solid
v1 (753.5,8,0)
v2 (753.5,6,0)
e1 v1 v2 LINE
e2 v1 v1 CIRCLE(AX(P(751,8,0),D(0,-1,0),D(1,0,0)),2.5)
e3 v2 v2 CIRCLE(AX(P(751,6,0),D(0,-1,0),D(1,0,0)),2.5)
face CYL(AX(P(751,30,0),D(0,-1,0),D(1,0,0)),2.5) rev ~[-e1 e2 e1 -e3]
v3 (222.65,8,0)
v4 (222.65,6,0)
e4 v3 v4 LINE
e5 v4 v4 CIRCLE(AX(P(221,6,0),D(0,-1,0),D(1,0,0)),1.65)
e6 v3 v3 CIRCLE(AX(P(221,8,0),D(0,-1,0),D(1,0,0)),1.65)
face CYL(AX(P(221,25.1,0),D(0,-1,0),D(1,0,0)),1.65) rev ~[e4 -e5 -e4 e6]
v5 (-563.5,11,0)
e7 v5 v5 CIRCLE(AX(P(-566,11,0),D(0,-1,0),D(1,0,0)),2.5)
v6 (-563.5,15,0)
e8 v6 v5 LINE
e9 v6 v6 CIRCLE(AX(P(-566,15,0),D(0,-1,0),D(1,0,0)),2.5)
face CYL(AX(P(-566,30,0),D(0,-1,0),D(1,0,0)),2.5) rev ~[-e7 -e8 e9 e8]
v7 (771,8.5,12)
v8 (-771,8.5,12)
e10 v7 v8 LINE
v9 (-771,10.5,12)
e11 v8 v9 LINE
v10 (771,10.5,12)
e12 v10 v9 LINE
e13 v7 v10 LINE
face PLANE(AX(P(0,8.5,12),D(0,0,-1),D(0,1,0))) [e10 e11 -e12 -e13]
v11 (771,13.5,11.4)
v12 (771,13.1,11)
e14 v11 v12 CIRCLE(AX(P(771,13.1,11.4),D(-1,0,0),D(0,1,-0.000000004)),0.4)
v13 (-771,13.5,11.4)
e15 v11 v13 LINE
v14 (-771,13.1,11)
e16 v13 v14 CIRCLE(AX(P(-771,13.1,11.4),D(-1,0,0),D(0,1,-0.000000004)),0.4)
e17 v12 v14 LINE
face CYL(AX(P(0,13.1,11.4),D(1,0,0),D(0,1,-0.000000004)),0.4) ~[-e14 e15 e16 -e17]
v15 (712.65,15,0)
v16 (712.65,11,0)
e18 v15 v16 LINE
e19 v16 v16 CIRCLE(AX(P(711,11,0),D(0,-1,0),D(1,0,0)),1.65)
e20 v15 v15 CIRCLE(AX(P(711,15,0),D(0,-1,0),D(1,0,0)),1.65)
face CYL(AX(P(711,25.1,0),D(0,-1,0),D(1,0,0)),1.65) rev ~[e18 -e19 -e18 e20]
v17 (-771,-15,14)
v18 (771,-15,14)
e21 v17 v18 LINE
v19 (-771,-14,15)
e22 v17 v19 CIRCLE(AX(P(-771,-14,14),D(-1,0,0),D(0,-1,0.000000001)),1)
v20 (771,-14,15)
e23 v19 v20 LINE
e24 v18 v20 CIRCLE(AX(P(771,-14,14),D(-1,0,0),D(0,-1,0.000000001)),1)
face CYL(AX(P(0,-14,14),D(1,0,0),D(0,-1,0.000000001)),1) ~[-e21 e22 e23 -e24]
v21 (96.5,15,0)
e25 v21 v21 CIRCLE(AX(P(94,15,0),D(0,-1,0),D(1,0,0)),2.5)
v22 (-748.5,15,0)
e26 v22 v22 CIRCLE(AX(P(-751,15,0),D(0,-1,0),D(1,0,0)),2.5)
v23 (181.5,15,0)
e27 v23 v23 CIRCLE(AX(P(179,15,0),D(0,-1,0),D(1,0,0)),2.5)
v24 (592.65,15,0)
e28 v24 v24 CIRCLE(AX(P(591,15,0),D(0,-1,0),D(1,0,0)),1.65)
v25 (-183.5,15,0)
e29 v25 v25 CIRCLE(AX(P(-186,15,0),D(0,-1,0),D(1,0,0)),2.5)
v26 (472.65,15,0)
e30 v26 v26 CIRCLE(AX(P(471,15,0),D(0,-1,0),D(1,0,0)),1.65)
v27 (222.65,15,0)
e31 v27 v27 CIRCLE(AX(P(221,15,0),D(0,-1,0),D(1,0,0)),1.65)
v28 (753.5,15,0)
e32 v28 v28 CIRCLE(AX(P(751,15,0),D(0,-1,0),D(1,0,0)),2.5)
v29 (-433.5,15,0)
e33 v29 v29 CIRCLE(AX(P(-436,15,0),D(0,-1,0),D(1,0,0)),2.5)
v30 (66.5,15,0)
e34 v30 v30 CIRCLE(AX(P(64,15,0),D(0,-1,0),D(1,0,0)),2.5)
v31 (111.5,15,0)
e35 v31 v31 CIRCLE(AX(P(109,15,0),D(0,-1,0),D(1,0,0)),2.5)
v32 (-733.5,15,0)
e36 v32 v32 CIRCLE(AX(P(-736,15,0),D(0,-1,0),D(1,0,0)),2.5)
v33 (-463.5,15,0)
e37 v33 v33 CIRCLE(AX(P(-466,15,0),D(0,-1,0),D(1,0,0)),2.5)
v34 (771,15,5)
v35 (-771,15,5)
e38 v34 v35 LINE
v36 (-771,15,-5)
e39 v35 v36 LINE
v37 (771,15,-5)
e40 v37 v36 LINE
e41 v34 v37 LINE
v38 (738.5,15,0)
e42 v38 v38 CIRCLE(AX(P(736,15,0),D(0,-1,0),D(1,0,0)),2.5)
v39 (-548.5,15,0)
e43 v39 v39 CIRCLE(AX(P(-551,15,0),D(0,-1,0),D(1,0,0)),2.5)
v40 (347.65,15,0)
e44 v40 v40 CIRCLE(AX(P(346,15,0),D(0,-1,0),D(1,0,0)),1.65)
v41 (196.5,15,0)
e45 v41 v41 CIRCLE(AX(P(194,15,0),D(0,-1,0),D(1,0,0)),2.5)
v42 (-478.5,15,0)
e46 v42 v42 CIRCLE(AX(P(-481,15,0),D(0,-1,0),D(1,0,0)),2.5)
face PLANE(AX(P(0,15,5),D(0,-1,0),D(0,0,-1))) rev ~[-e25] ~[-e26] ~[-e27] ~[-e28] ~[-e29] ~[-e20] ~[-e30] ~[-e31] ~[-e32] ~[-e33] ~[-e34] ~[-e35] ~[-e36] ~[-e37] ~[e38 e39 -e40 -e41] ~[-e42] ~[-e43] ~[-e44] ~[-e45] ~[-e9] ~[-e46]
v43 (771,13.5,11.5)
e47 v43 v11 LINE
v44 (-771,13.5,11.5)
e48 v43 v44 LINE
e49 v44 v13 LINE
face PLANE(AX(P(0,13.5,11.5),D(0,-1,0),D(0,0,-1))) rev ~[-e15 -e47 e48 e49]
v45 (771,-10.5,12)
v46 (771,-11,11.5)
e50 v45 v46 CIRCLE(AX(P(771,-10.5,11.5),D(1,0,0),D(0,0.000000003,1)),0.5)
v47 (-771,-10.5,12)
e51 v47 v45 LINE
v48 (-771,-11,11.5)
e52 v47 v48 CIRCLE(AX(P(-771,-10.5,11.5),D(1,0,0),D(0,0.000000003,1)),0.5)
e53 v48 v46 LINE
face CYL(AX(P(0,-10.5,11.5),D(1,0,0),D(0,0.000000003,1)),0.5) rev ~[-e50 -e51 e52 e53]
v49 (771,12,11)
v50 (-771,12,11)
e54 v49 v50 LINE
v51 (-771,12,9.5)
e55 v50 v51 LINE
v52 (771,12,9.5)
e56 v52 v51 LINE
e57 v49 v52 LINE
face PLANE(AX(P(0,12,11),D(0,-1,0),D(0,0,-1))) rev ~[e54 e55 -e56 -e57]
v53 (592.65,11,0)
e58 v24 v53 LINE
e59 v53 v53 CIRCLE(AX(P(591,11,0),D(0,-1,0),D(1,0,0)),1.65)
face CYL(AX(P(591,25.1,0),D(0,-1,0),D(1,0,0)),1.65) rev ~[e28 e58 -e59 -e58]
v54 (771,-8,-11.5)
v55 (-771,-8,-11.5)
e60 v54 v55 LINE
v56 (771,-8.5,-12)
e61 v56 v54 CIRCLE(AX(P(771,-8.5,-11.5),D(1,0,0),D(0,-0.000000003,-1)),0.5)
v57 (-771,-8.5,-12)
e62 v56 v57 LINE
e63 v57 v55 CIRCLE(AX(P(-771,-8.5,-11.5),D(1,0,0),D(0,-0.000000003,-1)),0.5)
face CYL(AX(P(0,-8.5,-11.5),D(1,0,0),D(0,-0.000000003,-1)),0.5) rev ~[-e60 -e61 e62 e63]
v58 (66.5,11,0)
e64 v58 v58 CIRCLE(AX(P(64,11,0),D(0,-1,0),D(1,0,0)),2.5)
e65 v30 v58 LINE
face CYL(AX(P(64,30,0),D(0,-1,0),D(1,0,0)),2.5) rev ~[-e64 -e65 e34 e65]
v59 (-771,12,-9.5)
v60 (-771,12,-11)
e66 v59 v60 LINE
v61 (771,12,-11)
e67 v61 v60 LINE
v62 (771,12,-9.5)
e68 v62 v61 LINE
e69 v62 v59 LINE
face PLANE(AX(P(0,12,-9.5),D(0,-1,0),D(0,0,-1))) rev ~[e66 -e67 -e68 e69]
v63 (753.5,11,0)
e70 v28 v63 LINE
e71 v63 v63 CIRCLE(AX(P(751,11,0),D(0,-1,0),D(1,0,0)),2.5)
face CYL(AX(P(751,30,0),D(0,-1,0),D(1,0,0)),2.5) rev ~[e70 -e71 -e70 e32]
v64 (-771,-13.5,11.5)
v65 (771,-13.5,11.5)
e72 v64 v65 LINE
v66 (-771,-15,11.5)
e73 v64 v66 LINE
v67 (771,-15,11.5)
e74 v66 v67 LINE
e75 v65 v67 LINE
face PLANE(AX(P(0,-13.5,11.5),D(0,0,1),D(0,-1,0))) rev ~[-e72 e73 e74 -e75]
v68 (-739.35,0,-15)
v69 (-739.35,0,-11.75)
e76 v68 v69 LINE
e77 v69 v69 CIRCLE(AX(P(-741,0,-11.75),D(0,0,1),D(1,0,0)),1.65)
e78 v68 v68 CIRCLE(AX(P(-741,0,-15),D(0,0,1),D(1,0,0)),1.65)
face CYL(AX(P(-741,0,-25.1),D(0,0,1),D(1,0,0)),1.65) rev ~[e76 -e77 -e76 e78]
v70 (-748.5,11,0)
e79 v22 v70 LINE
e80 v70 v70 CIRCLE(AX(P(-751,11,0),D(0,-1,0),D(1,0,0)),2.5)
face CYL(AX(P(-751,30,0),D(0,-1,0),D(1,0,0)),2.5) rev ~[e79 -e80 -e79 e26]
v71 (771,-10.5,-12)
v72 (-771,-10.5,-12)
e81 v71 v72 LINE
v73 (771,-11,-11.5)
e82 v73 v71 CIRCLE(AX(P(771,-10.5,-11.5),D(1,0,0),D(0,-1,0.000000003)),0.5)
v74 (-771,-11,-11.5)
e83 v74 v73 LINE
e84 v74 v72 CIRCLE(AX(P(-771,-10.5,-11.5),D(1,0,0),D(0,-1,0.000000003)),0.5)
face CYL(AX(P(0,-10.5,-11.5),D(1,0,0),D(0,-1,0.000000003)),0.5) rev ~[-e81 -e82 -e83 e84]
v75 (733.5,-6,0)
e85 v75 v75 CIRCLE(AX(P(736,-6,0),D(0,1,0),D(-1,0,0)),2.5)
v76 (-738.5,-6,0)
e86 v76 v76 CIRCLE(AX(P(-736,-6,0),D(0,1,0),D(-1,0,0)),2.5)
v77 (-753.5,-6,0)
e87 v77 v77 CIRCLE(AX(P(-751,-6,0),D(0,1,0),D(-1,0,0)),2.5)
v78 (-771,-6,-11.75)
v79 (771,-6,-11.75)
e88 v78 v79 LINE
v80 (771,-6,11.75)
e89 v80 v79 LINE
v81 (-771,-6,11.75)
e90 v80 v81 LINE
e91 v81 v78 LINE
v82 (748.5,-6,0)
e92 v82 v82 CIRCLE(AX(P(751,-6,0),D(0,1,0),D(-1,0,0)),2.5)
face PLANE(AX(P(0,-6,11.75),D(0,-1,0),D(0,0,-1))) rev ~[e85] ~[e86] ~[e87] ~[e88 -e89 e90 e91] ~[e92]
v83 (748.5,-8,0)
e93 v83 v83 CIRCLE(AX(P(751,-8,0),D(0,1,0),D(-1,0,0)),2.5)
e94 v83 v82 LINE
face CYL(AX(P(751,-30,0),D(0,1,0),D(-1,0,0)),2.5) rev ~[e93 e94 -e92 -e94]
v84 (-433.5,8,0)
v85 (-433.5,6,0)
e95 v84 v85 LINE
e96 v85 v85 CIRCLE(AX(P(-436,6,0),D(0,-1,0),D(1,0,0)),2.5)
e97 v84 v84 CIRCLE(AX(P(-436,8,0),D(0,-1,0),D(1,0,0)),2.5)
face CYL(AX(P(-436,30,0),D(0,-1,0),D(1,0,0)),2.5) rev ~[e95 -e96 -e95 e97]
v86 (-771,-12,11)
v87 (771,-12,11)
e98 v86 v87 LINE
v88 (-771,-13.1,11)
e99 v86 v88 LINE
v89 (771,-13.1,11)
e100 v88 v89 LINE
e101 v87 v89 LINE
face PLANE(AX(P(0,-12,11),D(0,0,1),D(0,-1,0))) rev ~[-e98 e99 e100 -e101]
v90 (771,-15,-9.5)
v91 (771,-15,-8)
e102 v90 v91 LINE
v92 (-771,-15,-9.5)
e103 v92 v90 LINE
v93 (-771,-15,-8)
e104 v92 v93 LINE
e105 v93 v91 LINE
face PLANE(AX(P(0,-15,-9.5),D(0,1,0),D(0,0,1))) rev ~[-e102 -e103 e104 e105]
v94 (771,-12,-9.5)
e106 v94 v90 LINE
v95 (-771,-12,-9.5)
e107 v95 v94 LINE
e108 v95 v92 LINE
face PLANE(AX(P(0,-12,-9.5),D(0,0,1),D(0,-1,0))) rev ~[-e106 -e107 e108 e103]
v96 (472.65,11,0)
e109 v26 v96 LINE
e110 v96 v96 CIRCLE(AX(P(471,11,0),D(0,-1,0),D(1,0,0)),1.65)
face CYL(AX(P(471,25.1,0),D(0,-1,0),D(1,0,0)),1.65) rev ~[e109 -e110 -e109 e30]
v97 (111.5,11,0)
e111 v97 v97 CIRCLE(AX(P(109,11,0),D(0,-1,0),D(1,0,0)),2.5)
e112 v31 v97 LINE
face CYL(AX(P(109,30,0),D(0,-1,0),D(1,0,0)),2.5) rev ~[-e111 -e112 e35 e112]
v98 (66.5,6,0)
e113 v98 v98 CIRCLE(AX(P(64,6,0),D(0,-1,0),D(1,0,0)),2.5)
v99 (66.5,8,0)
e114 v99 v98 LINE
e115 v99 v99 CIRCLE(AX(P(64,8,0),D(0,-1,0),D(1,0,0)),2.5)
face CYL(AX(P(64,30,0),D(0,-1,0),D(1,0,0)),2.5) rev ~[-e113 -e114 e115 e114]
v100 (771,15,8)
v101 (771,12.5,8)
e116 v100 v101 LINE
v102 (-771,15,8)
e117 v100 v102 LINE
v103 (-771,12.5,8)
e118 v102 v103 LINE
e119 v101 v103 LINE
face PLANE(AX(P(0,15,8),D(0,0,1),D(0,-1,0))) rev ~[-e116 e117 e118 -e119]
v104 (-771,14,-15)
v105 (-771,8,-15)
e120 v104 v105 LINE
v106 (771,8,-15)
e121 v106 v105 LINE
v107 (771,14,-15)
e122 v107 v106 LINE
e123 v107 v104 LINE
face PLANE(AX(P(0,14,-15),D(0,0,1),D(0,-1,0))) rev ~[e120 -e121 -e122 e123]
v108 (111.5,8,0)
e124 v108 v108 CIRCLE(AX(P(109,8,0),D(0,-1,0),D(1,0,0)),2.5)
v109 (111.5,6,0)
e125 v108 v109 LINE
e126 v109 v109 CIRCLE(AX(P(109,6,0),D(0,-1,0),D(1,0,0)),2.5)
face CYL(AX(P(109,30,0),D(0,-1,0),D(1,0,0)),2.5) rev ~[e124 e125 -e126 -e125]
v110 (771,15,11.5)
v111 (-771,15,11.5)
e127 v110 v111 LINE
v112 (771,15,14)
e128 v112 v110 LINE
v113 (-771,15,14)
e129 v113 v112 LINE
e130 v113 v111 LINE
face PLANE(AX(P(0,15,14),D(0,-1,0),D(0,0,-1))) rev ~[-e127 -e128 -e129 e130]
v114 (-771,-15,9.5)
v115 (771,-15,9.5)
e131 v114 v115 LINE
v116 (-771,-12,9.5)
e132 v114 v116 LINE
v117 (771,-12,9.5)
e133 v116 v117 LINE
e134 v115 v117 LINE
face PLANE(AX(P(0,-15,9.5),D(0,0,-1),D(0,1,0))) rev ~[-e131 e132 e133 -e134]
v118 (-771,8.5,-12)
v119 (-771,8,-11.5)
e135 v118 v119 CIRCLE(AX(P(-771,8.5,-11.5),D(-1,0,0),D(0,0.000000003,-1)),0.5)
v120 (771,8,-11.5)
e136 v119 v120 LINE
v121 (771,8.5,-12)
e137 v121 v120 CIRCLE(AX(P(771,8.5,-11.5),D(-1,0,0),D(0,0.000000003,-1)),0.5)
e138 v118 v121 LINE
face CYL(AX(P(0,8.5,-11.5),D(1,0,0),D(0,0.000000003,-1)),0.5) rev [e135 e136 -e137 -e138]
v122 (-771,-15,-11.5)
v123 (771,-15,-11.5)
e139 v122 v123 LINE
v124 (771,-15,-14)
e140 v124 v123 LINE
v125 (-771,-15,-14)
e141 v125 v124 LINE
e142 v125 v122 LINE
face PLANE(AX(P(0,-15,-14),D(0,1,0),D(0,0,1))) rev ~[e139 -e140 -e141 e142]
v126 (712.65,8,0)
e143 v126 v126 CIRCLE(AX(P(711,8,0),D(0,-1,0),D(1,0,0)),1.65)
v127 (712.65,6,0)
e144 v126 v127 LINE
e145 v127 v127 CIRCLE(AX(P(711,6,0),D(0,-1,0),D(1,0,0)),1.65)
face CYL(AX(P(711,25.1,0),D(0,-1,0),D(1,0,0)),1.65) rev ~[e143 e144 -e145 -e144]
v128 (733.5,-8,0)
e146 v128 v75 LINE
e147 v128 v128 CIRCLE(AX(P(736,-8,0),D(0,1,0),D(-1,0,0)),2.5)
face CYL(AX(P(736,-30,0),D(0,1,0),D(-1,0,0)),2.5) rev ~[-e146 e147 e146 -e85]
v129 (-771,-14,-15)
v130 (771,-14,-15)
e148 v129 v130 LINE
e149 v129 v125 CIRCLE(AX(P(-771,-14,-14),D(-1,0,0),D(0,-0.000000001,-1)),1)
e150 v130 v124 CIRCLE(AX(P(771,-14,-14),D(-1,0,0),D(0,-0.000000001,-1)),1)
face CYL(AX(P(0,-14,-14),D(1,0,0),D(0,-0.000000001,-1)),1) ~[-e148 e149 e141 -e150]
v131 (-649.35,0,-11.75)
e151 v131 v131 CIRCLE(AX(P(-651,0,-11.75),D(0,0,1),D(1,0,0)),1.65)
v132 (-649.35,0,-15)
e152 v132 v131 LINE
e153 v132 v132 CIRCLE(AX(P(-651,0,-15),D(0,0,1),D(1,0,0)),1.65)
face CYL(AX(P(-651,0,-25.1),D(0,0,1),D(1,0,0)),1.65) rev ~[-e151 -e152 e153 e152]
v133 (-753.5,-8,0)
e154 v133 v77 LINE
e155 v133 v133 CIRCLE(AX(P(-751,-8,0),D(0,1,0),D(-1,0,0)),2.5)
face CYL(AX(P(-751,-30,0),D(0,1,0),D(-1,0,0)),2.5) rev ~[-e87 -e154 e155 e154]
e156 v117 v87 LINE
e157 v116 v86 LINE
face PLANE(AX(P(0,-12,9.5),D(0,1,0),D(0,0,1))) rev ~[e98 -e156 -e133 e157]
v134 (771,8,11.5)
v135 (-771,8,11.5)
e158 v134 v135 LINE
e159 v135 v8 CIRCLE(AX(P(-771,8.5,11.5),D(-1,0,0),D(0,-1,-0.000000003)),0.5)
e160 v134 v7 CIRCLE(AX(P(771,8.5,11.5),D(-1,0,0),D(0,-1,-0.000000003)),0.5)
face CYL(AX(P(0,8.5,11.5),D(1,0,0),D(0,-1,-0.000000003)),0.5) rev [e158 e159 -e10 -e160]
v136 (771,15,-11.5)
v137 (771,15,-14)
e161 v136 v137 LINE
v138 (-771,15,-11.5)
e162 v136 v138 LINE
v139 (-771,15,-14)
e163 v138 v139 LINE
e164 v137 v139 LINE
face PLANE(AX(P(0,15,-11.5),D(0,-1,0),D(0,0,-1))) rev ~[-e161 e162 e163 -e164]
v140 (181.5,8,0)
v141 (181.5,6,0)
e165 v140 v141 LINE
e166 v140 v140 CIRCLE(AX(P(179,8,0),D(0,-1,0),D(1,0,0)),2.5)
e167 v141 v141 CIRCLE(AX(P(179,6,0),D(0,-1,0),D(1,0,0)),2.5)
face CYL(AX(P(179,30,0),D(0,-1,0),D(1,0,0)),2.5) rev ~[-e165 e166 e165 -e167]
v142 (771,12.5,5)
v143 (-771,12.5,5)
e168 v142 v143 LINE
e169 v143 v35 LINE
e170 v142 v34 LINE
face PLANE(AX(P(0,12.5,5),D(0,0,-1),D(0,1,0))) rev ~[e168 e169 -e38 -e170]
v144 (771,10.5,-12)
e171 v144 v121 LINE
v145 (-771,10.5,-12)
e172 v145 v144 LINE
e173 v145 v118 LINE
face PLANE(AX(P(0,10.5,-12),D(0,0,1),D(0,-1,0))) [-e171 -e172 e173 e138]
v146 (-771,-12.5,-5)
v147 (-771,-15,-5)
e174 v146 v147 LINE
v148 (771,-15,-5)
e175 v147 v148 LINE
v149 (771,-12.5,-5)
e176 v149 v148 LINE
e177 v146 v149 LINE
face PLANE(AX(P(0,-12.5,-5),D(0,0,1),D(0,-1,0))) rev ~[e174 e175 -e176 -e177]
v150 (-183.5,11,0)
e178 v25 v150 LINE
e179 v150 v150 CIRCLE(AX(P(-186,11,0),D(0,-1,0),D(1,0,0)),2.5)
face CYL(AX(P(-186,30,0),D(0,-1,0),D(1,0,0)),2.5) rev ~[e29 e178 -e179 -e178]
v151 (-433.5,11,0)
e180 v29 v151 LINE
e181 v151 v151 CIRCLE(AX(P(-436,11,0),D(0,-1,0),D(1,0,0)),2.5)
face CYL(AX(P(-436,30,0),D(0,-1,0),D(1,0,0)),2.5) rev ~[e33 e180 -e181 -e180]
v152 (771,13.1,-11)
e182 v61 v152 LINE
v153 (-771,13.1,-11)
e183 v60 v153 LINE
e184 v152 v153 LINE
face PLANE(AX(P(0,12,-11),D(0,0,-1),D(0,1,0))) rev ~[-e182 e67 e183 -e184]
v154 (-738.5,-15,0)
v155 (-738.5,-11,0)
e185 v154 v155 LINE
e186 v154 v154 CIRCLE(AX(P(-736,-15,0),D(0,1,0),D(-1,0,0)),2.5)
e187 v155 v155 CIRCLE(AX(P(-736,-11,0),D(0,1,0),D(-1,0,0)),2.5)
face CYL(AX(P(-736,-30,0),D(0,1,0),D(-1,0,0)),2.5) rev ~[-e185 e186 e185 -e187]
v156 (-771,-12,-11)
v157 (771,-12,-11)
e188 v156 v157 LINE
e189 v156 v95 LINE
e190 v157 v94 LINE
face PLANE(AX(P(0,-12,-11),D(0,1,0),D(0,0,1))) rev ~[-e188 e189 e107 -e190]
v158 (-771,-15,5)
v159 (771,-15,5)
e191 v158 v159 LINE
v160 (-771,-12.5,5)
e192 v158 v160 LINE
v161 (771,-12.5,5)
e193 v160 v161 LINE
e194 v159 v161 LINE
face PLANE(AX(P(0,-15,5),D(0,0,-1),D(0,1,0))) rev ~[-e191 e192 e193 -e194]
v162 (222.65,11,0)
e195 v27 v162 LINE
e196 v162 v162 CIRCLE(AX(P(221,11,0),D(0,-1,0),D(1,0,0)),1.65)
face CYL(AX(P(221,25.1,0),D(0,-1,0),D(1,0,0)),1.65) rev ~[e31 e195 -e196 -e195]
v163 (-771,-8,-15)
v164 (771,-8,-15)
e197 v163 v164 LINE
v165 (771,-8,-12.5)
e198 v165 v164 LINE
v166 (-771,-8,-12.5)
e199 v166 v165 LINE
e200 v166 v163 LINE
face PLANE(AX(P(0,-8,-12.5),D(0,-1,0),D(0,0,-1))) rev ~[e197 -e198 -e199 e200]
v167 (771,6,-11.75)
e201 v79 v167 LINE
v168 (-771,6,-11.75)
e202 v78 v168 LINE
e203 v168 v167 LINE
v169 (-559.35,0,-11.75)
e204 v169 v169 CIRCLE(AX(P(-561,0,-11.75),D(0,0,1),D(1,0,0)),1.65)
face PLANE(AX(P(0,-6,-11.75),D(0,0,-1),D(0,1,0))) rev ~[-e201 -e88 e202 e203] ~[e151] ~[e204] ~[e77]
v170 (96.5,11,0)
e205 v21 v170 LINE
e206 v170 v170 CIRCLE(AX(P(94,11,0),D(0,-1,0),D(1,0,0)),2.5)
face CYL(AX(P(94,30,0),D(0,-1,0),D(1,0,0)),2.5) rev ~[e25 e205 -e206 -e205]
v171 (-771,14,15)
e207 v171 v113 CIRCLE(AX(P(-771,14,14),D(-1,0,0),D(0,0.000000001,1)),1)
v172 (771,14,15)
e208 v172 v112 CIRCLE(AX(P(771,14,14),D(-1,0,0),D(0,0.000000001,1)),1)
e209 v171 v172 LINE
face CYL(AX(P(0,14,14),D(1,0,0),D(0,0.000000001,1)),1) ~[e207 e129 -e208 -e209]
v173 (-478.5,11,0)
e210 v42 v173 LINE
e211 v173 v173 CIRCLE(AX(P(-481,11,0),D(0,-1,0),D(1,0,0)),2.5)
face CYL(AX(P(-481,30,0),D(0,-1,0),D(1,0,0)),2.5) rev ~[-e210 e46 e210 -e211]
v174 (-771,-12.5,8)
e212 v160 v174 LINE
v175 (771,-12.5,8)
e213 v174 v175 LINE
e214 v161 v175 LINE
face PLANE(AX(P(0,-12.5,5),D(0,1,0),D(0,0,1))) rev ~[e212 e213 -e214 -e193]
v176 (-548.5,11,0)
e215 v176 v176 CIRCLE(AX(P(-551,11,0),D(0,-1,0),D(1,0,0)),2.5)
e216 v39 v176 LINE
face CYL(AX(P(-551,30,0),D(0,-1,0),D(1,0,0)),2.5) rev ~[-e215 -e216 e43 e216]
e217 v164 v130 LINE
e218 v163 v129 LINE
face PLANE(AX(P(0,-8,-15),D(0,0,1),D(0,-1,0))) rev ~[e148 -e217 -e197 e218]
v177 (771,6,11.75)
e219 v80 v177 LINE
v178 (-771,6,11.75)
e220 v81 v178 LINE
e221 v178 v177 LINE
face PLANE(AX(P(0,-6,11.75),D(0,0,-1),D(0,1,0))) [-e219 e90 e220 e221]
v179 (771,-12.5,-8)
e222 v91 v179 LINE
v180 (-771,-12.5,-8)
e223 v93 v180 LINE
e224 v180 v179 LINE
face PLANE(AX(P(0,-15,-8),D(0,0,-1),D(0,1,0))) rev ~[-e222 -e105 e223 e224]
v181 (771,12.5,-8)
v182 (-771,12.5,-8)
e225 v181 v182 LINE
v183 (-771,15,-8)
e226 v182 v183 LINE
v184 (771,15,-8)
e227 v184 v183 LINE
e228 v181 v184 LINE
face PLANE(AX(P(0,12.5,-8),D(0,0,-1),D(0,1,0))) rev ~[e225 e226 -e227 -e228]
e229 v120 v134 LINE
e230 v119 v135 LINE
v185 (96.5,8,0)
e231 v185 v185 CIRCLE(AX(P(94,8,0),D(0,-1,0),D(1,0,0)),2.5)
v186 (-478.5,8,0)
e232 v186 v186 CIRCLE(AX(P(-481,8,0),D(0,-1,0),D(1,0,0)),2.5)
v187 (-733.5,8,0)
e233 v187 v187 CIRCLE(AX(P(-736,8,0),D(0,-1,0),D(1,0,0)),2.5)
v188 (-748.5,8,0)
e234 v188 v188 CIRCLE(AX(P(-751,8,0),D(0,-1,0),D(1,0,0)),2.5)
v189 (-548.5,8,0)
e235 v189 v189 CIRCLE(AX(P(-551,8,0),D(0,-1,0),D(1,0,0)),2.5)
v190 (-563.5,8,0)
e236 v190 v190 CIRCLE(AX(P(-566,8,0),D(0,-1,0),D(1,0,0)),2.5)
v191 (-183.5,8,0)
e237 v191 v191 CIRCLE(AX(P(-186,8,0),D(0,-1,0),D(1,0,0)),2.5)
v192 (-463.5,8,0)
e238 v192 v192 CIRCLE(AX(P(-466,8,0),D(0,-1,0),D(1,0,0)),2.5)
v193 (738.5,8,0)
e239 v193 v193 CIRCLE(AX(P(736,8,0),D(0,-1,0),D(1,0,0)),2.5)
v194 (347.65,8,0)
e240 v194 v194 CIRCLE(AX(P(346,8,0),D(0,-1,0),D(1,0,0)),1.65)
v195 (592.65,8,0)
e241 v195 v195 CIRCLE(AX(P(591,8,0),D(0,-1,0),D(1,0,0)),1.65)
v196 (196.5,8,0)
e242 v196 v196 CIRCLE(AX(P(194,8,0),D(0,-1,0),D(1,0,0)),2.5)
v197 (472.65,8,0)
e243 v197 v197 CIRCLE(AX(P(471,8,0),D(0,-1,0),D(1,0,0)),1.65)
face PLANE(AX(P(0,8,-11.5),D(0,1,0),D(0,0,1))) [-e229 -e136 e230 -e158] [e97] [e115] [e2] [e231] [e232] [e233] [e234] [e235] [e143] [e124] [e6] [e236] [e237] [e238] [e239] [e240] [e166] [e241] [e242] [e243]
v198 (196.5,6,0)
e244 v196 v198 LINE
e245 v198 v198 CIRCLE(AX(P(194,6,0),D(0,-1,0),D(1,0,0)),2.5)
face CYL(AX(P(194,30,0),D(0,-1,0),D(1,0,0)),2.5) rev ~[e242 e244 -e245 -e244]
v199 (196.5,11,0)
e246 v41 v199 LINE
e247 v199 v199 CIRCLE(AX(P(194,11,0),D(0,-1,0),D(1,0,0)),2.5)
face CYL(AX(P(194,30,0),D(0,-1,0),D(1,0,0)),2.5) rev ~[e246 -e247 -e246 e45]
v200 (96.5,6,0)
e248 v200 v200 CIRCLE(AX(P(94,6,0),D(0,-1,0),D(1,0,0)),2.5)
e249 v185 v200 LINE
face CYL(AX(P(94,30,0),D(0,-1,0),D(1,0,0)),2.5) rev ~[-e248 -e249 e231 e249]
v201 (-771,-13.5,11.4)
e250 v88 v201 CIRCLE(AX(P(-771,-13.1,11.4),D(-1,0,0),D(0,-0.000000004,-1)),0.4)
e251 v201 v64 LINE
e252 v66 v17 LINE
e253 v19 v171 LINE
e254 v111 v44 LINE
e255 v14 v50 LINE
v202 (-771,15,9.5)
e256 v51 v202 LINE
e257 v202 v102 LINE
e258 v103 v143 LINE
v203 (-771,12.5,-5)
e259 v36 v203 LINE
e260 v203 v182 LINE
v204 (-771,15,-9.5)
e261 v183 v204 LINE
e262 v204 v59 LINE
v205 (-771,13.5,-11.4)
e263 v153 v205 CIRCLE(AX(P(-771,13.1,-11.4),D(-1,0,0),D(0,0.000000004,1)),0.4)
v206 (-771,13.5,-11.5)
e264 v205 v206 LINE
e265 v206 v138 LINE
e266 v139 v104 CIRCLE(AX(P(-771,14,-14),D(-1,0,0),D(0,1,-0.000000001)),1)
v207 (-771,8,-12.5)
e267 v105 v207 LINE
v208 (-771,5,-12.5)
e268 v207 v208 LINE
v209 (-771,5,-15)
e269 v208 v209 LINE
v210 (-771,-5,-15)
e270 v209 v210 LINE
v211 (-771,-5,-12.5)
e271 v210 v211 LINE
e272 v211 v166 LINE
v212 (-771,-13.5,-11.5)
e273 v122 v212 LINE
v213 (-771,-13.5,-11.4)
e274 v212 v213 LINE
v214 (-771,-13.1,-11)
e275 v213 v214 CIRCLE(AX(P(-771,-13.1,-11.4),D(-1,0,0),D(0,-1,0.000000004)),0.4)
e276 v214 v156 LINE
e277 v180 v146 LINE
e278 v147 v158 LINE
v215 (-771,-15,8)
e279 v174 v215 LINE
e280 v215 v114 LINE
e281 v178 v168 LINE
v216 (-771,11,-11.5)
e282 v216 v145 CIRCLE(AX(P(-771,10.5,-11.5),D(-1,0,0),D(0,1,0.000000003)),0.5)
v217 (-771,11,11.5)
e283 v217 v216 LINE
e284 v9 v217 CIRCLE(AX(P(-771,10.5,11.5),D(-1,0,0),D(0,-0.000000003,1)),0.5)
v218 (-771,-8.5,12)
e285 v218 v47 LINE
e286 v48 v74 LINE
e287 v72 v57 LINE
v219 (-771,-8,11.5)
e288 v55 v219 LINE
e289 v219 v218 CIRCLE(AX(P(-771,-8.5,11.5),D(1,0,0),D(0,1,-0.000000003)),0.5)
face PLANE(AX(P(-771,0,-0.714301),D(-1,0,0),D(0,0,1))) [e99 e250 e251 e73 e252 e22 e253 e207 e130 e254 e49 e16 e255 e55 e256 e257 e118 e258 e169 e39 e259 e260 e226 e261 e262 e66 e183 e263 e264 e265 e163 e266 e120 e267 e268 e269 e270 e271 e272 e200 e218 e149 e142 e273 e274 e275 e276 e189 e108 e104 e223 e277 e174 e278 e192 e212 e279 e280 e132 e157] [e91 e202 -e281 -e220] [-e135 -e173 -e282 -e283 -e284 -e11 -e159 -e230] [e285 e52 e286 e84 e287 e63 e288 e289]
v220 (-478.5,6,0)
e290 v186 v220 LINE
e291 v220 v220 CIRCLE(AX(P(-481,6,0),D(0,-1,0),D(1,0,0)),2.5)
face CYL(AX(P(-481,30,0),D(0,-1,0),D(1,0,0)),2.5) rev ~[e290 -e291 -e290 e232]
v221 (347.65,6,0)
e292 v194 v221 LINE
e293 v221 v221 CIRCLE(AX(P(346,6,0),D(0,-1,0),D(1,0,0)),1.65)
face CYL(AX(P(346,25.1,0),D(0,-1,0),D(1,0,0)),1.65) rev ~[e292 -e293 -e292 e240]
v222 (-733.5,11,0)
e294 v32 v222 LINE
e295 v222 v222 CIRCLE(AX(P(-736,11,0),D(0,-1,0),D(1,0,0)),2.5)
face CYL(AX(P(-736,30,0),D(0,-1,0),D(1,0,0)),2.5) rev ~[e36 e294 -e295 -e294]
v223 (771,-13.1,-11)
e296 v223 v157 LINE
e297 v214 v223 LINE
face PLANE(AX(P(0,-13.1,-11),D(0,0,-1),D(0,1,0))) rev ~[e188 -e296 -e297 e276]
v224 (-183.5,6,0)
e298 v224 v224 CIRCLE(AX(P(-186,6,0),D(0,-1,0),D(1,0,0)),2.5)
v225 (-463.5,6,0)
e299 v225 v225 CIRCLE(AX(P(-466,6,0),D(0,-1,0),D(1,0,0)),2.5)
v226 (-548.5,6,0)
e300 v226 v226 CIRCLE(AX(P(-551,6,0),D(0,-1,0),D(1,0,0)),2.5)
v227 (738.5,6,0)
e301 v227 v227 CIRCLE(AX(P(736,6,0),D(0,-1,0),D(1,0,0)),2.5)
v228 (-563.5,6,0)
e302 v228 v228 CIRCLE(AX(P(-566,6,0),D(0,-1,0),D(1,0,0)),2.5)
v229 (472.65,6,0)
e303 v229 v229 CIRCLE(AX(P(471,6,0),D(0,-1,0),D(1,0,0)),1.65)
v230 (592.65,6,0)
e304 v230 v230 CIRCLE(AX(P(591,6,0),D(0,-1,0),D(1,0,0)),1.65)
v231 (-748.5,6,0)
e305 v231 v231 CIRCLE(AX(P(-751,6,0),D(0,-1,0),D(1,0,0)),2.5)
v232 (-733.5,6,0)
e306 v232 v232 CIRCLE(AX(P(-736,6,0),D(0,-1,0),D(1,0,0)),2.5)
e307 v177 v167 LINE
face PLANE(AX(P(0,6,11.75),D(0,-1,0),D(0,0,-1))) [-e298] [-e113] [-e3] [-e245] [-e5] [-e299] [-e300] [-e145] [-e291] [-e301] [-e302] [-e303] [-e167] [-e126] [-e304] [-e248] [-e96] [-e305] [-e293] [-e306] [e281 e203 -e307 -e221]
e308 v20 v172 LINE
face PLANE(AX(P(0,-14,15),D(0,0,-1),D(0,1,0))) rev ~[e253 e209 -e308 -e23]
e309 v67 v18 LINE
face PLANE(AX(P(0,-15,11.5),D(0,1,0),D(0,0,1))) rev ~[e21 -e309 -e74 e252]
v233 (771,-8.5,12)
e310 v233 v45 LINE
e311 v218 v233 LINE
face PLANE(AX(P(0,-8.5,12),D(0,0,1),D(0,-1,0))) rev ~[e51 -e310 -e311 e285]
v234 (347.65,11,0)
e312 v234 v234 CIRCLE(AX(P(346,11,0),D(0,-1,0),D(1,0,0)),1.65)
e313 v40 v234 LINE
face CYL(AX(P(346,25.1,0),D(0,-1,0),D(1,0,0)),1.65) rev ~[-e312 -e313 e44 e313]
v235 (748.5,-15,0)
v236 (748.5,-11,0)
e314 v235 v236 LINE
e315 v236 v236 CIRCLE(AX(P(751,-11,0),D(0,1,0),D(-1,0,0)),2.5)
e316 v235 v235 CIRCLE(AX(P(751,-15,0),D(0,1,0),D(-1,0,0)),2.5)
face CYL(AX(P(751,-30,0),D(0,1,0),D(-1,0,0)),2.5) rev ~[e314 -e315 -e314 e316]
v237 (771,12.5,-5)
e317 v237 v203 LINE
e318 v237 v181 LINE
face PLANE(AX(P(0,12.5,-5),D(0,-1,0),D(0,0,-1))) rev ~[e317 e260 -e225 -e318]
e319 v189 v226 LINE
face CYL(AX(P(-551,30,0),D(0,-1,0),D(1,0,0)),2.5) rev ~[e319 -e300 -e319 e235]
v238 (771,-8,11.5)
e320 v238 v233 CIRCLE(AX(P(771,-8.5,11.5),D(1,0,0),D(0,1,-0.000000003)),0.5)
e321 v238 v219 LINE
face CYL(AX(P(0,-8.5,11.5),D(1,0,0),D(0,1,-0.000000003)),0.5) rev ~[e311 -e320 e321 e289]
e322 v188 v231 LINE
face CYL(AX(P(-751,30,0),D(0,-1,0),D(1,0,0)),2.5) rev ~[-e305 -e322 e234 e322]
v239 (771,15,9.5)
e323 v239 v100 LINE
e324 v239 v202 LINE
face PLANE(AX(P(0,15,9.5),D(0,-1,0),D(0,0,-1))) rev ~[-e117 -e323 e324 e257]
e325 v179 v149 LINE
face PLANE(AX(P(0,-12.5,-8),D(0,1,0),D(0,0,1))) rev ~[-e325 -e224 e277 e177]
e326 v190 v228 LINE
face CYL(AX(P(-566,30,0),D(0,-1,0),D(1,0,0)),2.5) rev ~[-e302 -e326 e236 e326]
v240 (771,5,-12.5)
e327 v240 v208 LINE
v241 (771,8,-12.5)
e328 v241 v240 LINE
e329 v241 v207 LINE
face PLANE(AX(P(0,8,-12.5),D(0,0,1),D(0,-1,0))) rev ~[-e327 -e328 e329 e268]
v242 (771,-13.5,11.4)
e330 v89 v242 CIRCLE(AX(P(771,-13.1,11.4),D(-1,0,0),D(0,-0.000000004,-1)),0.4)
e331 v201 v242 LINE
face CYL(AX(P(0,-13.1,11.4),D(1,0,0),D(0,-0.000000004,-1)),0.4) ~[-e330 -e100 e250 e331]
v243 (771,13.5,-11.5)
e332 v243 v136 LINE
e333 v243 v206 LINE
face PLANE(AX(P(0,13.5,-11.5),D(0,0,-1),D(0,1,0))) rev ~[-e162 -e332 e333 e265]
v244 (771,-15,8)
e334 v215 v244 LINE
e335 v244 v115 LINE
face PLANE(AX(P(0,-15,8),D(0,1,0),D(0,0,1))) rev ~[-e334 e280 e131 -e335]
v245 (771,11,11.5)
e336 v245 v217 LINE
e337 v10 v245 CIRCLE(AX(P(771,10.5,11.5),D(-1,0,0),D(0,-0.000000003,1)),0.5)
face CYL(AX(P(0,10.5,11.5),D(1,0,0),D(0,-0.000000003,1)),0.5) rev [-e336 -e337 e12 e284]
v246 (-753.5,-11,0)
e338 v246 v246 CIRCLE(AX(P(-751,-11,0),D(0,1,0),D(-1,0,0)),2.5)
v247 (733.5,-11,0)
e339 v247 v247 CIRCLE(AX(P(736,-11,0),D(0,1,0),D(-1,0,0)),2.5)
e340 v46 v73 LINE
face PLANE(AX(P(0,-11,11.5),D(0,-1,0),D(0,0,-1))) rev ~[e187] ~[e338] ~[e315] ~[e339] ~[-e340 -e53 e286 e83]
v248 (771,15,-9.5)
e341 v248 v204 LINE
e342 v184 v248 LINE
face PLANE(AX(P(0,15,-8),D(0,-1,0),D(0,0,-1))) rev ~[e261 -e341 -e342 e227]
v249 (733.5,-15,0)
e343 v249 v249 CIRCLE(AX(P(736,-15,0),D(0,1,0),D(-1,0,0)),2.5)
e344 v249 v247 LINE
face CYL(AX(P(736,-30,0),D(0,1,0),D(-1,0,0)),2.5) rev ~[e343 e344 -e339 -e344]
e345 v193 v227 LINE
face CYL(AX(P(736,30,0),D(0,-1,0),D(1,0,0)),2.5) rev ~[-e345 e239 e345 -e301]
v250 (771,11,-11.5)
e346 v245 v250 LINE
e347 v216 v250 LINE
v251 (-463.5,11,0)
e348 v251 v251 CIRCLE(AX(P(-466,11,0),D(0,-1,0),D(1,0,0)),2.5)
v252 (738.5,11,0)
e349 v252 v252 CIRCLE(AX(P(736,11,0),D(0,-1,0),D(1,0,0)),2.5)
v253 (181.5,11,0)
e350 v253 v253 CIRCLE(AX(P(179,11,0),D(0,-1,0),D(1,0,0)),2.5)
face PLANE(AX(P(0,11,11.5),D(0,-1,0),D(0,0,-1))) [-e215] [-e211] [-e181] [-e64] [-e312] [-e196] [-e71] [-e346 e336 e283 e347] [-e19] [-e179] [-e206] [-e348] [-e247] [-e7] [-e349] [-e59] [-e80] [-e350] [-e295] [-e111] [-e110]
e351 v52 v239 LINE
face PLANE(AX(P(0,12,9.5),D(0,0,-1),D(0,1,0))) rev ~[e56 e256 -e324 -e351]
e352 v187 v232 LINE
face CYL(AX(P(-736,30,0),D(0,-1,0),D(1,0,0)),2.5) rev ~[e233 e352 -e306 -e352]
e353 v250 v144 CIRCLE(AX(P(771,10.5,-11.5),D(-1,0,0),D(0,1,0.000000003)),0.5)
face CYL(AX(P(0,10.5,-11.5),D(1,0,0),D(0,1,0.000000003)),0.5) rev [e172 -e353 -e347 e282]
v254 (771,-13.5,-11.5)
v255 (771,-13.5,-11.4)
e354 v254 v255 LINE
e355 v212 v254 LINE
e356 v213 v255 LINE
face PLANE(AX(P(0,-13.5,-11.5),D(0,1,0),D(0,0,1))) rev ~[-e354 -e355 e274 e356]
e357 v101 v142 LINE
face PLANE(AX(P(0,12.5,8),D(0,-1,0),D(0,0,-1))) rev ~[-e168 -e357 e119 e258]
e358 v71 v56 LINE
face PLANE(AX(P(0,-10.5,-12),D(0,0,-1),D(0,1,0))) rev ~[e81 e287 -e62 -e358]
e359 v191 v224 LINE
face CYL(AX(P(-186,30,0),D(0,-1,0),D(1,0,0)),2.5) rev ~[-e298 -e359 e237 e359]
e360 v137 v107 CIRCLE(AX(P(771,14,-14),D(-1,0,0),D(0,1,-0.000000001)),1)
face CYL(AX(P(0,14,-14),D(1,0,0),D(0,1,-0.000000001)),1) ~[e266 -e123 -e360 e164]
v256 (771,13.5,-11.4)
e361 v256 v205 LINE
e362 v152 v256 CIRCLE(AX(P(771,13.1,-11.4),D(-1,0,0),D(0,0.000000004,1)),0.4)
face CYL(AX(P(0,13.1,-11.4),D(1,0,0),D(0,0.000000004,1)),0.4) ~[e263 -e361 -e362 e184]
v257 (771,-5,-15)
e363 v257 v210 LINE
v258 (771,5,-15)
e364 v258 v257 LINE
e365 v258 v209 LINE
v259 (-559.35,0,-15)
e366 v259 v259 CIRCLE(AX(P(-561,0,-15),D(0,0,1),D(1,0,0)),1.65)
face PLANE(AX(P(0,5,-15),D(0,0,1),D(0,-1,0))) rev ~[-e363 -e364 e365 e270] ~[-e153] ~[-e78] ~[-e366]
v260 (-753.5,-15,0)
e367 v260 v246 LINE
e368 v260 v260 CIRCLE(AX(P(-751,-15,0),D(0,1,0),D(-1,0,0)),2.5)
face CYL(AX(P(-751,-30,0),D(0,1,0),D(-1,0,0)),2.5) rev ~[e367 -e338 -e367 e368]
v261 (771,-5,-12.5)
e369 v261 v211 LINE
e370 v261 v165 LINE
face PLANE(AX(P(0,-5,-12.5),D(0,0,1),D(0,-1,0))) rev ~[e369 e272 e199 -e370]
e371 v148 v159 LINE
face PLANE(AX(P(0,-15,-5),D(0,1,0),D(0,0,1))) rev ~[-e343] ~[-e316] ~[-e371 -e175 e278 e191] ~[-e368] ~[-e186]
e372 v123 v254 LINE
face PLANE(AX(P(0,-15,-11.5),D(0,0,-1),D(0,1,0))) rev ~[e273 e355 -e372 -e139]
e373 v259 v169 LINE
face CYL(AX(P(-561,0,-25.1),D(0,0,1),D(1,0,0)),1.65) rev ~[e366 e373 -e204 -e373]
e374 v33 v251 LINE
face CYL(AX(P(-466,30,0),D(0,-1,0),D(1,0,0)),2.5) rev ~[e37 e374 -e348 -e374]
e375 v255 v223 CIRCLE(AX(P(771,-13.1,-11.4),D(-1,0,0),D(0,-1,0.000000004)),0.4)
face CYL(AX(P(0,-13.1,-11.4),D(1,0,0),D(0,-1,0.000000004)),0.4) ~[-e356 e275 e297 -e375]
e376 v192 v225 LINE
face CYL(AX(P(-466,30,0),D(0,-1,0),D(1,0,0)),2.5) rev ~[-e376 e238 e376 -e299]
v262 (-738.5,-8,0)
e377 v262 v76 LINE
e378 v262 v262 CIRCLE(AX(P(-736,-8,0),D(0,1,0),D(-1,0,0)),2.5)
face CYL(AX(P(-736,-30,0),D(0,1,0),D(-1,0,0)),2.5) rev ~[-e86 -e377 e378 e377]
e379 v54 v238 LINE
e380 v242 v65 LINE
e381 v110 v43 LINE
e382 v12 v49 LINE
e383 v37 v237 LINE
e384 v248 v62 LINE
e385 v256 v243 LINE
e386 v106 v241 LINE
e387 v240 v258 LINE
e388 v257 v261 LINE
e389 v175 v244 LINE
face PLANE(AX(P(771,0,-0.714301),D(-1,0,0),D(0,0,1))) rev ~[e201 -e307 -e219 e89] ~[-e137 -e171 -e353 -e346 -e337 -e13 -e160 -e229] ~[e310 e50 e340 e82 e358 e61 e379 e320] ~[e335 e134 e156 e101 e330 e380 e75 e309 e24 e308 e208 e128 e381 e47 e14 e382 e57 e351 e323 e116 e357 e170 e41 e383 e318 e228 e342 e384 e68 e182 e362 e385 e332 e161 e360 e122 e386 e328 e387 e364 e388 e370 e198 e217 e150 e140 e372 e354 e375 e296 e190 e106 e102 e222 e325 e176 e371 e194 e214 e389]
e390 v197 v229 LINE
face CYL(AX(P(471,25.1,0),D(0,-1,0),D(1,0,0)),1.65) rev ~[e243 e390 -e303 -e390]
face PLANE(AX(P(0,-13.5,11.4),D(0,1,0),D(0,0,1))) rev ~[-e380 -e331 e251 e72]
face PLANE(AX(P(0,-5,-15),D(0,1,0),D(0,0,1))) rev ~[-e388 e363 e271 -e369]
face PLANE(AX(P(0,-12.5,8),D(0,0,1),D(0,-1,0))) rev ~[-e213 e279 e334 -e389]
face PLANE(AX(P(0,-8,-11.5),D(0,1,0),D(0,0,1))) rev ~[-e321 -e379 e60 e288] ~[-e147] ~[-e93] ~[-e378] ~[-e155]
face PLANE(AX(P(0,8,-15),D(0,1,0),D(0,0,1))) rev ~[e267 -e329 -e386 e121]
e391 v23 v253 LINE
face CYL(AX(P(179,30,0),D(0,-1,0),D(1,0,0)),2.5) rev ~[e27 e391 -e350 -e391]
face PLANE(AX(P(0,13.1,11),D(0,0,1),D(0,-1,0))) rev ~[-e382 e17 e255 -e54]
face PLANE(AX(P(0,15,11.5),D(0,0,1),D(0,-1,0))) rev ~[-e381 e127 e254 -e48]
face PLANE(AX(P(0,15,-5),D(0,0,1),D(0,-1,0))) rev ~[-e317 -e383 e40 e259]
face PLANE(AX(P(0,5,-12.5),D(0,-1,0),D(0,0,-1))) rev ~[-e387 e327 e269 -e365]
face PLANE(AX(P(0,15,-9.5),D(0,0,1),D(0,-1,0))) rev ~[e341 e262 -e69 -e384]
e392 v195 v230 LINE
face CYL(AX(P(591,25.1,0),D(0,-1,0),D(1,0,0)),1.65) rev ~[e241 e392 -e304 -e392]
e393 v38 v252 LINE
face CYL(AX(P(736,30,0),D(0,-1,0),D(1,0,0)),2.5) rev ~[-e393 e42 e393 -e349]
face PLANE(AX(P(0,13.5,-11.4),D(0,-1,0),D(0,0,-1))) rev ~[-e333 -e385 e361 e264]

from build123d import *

# Parameters (mm, degrees)
SKETCH_1_W             = 23.5
SKETCH_1_H             = 12
EXTRUDE_1_DEPTH        = 771
HOLE_WIZARD_M6_1_D     = 5
HOLE_WIZARD_M6_1_DEPTH = 15
HOLE_WIZARD_M6_1_TIP   = 1.502151548
HOLE_WIZARD_M6_2_D     = 5
HOLE_WIZARD_M6_2_DEPTH = 15
HOLE_WIZARD_M6_2_TIP   = 1.502151548
HOLE_WIZARD_M4_1_D     = 3.3
HOLE_WIZARD_M4_1_DEPTH = 10.1
HOLE_WIZARD_M4_1_TIP   = 0.991420021
HOLE_WIZARD_M4_2_D     = 3.3
HOLE_WIZARD_M4_2_DEPTH = 10.1
HOLE_WIZARD_M4_2_TIP   = 0.991420021
HOLE_WIZARD_M6_3_D     = 5
HOLE_WIZARD_M6_3_DEPTH = 15
HOLE_WIZARD_M6_3_TIP   = 1.502151548


with BuildPart() as part:
    # 草图1 → 凸台-拉伸1 (new, symmetric)
    with BuildSketch(Plane(origin=(0, 0, 0), x_dir=(0, 0, -1), z_dir=(1, 0, 0))):
        with BuildLine():
            Line((-14, 15), (-11.5, 15))
            Line((-11.5, 15), (-11.5, 13.5))
            Line((-11.5, 13.5), (-11.4, 13.5))
            ThreePointArc((-11.4, 13.5), (-11.117157288, 13.382842712), (-11, 13.1))
            Line((-11, 13.1), (-11, 12))
            Line((-11, 12), (-9.5, 12))
            Line((-9.5, 12), (-9.5, 15))
            Line((-9.5, 15), (-8, 15))
            Line((-8, 15), (-8, 12.5))
            Line((-8, 12.5), (-5, 12.5))
            Line((-5, 12.5), (-5, 15))
            Line((-5, 15), (5, 15))
            Line((5, 15), (5, 12.5))
            Line((5, 12.5), (8, 12.5))
            Line((8, 12.5), (8, 15))
            Line((8, 15), (9.5, 15))
            Line((9.5, 15), (9.5, 12))
            Line((9.5, 12), (11, 12))
            Line((11, 12), (11, 13.1))
            ThreePointArc((11, 13.1), (11.117157288, 13.382842712), (11.4, 13.5))
            Line((11.4, 13.5), (11.5, 13.5))
            Line((11.5, 13.5), (11.5, 15))
            Line((11.5, 15), (14, 15))
            ThreePointArc((14, 15), (14.707106781, 14.707106781), (15, 14))
            Line((15, 14), (15, 8))
            Line((15, 8), (12.5, 8))
            Line((12.5, 8), (12.5, 5))
            Line((12.5, 5), (15, 5))
            Line((15, 5), (15, -5))
            Line((15, -5), (12.5, -5))
            Line((12.5, -5), (12.5, -8))
            Line((12.5, -8), (15, -8))
            Line((15, -8), (15, -14))
            ThreePointArc((15, -14), (14.707106781, -14.707106781), (14, -15))
            Line((14, -15), (11.5, -15))
            Line((11.5, -15), (11.5, -13.5))
            Line((11.5, -13.5), (11.4, -13.5))
            ThreePointArc((11.4, -13.5), (11.117157288, -13.382842712), (11, -13.1))
            Line((11, -13.1), (11, -12))
            Line((11, -12), (9.5, -12))
            Line((9.5, -12), (9.5, -15))
            Line((9.5, -15), (8, -15))
            Line((8, -15), (8, -12.5))
            Line((8, -12.5), (5, -12.5))
            Line((5, -12.5), (5, -15))
            Line((5, -15), (-5, -15))
            Line((-5, -15), (-5, -12.5))
            Line((-5, -12.5), (-8, -12.5))
            Line((-8, -12.5), (-8, -15))
            Line((-8, -15), (-9.5, -15))
            Line((-9.5, -15), (-9.5, -12))
            Line((-9.5, -12), (-11, -12))
            Line((-11, -12), (-11, -13.1))
            ThreePointArc((-11, -13.1), (-11.117157288, -13.382842712), (-11.4, -13.5))
            Line((-11.4, -13.5), (-11.5, -13.5))
            Line((-11.5, -13.5), (-11.5, -15))
            Line((-11.5, -15), (-14, -15))
            ThreePointArc((-14, -15), (-14.707106781, -14.707106781), (-15, -14))
            Line((-15, -14), (-15, 14))
            ThreePointArc((-15, 14), (-14.707106781, 14.707106781), (-14, 15))
        make_face()
        with BuildLine():
            Line((12, -10.5), (12, -8.5))
            ThreePointArc((12, -8.5), (11.853553391, -8.146446609), (11.5, -8))
            Line((11.5, -8), (-11.5, -8))
            ThreePointArc((-11.5, -8), (-11.853553391, -8.146446609), (-12, -8.5))
            Line((-12, -8.5), (-12, -10.5))
            ThreePointArc((-12, -10.5), (-11.853553391, -10.853553391), (-11.5, -11))
            Line((-11.5, -11), (11.5, -11))
            ThreePointArc((11.5, -11), (11.853553391, -10.853553391), (12, -10.5))
        make_face(mode=Mode.SUBTRACT)
        with BuildLine():
            Line((-11.5, 11), (11.5, 11))
            ThreePointArc((11.5, 11), (11.853553391, 10.853553391), (12, 10.5))
            Line((12, 10.5), (12, 8.5))
            ThreePointArc((12, 8.5), (11.853553391, 8.146446609), (11.5, 8))
            Line((11.5, 8), (-11.5, 8))
            ThreePointArc((-11.5, 8), (-11.853553391, 8.146446609), (-12, 8.5))
            Line((-12, 8.5), (-12, 10.5))
            ThreePointArc((-12, 10.5), (-11.853553391, 10.853553391), (-11.5, 11))
        make_face(mode=Mode.SUBTRACT)
        Rectangle(SKETCH_1_W, SKETCH_1_H, mode=Mode.SUBTRACT)
    extrude(amount=EXTRUDE_1_DEPTH, both=True)

    # M6 螺纹孔1
    with Locations(Plane(origin=(0, 15, 0), x_dir=(-1, 0, 0), z_dir=(0, 1, 0))):
        with Locations((-751, 0), (-736, 0), (-194, 0), (-179, 0), (-109, 0), (-94, 0), (466, 0), (481, 0), (551, 0), (566, 0), (736, 0), (751, 0)):
            Hole(HOLE_WIZARD_M6_1_D / 2, depth=HOLE_WIZARD_M6_1_DEPTH)
            with Locations((0, 0, -(HOLE_WIZARD_M6_1_DEPTH + HOLE_WIZARD_M6_1_TIP / 2))):  # 118° drill point
                Cone(0, HOLE_WIZARD_M6_1_D / 2, HOLE_WIZARD_M6_1_TIP, mode=Mode.SUBTRACT)

    # M6 螺纹孔2
    with Locations(Plane.XZ.offset(15)):
        with Locations((-751, 0), (-736, 0), (751, 0), (736, 0)):
            Hole(HOLE_WIZARD_M6_2_D / 2, depth=HOLE_WIZARD_M6_2_DEPTH)
            with Locations((0, 0, -(HOLE_WIZARD_M6_2_DEPTH + HOLE_WIZARD_M6_2_TIP / 2))):  # 118° drill point
                Cone(0, HOLE_WIZARD_M6_2_D / 2, HOLE_WIZARD_M6_2_TIP, mode=Mode.SUBTRACT)

    # M4 螺纹孔1
    with Locations(Plane(origin=(0, 15, 0), x_dir=(-1, 0, 0), z_dir=(0, 1, 0))):
        with Locations((-711, 0), (-591, 0), (-471, 0), (-346, 0), (-221, 0)):
            Hole(HOLE_WIZARD_M4_1_D / 2, depth=HOLE_WIZARD_M4_1_DEPTH)
            with Locations((0, 0, -(HOLE_WIZARD_M4_1_DEPTH + HOLE_WIZARD_M4_1_TIP / 2))):  # 118° drill point
                Cone(0, HOLE_WIZARD_M4_1_D / 2, HOLE_WIZARD_M4_1_TIP, mode=Mode.SUBTRACT)

    # M4 螺纹孔2
    with Locations(Plane(origin=(0, 0, -15), x_dir=(-1, 0, 0), z_dir=(0, 0, -1))):
        with Locations((741, 0), (651, 0), (561, 0)):
            Hole(HOLE_WIZARD_M4_2_D / 2, depth=HOLE_WIZARD_M4_2_DEPTH)
            with Locations((0, 0, -(HOLE_WIZARD_M4_2_DEPTH + HOLE_WIZARD_M4_2_TIP / 2))):  # 118° drill point
                Cone(0, HOLE_WIZARD_M4_2_D / 2, HOLE_WIZARD_M4_2_TIP, mode=Mode.SUBTRACT)

    # M6 螺纹孔3
    with Locations(Plane(origin=(0, 15, 0), x_dir=(-1, 0, 0), z_dir=(0, 1, 0))):
        with Locations((436, 0), (186, 0), (-64, 0)):
            Hole(HOLE_WIZARD_M6_3_D / 2, depth=HOLE_WIZARD_M6_3_DEPTH)
            with Locations((0, 0, -(HOLE_WIZARD_M6_3_DEPTH + HOLE_WIZARD_M6_3_TIP / 2))):  # 118° drill point
                Cone(0, HOLE_WIZARD_M6_3_D / 2, HOLE_WIZARD_M6_3_TIP, mode=Mode.SUBTRACT)


solid = part.part
